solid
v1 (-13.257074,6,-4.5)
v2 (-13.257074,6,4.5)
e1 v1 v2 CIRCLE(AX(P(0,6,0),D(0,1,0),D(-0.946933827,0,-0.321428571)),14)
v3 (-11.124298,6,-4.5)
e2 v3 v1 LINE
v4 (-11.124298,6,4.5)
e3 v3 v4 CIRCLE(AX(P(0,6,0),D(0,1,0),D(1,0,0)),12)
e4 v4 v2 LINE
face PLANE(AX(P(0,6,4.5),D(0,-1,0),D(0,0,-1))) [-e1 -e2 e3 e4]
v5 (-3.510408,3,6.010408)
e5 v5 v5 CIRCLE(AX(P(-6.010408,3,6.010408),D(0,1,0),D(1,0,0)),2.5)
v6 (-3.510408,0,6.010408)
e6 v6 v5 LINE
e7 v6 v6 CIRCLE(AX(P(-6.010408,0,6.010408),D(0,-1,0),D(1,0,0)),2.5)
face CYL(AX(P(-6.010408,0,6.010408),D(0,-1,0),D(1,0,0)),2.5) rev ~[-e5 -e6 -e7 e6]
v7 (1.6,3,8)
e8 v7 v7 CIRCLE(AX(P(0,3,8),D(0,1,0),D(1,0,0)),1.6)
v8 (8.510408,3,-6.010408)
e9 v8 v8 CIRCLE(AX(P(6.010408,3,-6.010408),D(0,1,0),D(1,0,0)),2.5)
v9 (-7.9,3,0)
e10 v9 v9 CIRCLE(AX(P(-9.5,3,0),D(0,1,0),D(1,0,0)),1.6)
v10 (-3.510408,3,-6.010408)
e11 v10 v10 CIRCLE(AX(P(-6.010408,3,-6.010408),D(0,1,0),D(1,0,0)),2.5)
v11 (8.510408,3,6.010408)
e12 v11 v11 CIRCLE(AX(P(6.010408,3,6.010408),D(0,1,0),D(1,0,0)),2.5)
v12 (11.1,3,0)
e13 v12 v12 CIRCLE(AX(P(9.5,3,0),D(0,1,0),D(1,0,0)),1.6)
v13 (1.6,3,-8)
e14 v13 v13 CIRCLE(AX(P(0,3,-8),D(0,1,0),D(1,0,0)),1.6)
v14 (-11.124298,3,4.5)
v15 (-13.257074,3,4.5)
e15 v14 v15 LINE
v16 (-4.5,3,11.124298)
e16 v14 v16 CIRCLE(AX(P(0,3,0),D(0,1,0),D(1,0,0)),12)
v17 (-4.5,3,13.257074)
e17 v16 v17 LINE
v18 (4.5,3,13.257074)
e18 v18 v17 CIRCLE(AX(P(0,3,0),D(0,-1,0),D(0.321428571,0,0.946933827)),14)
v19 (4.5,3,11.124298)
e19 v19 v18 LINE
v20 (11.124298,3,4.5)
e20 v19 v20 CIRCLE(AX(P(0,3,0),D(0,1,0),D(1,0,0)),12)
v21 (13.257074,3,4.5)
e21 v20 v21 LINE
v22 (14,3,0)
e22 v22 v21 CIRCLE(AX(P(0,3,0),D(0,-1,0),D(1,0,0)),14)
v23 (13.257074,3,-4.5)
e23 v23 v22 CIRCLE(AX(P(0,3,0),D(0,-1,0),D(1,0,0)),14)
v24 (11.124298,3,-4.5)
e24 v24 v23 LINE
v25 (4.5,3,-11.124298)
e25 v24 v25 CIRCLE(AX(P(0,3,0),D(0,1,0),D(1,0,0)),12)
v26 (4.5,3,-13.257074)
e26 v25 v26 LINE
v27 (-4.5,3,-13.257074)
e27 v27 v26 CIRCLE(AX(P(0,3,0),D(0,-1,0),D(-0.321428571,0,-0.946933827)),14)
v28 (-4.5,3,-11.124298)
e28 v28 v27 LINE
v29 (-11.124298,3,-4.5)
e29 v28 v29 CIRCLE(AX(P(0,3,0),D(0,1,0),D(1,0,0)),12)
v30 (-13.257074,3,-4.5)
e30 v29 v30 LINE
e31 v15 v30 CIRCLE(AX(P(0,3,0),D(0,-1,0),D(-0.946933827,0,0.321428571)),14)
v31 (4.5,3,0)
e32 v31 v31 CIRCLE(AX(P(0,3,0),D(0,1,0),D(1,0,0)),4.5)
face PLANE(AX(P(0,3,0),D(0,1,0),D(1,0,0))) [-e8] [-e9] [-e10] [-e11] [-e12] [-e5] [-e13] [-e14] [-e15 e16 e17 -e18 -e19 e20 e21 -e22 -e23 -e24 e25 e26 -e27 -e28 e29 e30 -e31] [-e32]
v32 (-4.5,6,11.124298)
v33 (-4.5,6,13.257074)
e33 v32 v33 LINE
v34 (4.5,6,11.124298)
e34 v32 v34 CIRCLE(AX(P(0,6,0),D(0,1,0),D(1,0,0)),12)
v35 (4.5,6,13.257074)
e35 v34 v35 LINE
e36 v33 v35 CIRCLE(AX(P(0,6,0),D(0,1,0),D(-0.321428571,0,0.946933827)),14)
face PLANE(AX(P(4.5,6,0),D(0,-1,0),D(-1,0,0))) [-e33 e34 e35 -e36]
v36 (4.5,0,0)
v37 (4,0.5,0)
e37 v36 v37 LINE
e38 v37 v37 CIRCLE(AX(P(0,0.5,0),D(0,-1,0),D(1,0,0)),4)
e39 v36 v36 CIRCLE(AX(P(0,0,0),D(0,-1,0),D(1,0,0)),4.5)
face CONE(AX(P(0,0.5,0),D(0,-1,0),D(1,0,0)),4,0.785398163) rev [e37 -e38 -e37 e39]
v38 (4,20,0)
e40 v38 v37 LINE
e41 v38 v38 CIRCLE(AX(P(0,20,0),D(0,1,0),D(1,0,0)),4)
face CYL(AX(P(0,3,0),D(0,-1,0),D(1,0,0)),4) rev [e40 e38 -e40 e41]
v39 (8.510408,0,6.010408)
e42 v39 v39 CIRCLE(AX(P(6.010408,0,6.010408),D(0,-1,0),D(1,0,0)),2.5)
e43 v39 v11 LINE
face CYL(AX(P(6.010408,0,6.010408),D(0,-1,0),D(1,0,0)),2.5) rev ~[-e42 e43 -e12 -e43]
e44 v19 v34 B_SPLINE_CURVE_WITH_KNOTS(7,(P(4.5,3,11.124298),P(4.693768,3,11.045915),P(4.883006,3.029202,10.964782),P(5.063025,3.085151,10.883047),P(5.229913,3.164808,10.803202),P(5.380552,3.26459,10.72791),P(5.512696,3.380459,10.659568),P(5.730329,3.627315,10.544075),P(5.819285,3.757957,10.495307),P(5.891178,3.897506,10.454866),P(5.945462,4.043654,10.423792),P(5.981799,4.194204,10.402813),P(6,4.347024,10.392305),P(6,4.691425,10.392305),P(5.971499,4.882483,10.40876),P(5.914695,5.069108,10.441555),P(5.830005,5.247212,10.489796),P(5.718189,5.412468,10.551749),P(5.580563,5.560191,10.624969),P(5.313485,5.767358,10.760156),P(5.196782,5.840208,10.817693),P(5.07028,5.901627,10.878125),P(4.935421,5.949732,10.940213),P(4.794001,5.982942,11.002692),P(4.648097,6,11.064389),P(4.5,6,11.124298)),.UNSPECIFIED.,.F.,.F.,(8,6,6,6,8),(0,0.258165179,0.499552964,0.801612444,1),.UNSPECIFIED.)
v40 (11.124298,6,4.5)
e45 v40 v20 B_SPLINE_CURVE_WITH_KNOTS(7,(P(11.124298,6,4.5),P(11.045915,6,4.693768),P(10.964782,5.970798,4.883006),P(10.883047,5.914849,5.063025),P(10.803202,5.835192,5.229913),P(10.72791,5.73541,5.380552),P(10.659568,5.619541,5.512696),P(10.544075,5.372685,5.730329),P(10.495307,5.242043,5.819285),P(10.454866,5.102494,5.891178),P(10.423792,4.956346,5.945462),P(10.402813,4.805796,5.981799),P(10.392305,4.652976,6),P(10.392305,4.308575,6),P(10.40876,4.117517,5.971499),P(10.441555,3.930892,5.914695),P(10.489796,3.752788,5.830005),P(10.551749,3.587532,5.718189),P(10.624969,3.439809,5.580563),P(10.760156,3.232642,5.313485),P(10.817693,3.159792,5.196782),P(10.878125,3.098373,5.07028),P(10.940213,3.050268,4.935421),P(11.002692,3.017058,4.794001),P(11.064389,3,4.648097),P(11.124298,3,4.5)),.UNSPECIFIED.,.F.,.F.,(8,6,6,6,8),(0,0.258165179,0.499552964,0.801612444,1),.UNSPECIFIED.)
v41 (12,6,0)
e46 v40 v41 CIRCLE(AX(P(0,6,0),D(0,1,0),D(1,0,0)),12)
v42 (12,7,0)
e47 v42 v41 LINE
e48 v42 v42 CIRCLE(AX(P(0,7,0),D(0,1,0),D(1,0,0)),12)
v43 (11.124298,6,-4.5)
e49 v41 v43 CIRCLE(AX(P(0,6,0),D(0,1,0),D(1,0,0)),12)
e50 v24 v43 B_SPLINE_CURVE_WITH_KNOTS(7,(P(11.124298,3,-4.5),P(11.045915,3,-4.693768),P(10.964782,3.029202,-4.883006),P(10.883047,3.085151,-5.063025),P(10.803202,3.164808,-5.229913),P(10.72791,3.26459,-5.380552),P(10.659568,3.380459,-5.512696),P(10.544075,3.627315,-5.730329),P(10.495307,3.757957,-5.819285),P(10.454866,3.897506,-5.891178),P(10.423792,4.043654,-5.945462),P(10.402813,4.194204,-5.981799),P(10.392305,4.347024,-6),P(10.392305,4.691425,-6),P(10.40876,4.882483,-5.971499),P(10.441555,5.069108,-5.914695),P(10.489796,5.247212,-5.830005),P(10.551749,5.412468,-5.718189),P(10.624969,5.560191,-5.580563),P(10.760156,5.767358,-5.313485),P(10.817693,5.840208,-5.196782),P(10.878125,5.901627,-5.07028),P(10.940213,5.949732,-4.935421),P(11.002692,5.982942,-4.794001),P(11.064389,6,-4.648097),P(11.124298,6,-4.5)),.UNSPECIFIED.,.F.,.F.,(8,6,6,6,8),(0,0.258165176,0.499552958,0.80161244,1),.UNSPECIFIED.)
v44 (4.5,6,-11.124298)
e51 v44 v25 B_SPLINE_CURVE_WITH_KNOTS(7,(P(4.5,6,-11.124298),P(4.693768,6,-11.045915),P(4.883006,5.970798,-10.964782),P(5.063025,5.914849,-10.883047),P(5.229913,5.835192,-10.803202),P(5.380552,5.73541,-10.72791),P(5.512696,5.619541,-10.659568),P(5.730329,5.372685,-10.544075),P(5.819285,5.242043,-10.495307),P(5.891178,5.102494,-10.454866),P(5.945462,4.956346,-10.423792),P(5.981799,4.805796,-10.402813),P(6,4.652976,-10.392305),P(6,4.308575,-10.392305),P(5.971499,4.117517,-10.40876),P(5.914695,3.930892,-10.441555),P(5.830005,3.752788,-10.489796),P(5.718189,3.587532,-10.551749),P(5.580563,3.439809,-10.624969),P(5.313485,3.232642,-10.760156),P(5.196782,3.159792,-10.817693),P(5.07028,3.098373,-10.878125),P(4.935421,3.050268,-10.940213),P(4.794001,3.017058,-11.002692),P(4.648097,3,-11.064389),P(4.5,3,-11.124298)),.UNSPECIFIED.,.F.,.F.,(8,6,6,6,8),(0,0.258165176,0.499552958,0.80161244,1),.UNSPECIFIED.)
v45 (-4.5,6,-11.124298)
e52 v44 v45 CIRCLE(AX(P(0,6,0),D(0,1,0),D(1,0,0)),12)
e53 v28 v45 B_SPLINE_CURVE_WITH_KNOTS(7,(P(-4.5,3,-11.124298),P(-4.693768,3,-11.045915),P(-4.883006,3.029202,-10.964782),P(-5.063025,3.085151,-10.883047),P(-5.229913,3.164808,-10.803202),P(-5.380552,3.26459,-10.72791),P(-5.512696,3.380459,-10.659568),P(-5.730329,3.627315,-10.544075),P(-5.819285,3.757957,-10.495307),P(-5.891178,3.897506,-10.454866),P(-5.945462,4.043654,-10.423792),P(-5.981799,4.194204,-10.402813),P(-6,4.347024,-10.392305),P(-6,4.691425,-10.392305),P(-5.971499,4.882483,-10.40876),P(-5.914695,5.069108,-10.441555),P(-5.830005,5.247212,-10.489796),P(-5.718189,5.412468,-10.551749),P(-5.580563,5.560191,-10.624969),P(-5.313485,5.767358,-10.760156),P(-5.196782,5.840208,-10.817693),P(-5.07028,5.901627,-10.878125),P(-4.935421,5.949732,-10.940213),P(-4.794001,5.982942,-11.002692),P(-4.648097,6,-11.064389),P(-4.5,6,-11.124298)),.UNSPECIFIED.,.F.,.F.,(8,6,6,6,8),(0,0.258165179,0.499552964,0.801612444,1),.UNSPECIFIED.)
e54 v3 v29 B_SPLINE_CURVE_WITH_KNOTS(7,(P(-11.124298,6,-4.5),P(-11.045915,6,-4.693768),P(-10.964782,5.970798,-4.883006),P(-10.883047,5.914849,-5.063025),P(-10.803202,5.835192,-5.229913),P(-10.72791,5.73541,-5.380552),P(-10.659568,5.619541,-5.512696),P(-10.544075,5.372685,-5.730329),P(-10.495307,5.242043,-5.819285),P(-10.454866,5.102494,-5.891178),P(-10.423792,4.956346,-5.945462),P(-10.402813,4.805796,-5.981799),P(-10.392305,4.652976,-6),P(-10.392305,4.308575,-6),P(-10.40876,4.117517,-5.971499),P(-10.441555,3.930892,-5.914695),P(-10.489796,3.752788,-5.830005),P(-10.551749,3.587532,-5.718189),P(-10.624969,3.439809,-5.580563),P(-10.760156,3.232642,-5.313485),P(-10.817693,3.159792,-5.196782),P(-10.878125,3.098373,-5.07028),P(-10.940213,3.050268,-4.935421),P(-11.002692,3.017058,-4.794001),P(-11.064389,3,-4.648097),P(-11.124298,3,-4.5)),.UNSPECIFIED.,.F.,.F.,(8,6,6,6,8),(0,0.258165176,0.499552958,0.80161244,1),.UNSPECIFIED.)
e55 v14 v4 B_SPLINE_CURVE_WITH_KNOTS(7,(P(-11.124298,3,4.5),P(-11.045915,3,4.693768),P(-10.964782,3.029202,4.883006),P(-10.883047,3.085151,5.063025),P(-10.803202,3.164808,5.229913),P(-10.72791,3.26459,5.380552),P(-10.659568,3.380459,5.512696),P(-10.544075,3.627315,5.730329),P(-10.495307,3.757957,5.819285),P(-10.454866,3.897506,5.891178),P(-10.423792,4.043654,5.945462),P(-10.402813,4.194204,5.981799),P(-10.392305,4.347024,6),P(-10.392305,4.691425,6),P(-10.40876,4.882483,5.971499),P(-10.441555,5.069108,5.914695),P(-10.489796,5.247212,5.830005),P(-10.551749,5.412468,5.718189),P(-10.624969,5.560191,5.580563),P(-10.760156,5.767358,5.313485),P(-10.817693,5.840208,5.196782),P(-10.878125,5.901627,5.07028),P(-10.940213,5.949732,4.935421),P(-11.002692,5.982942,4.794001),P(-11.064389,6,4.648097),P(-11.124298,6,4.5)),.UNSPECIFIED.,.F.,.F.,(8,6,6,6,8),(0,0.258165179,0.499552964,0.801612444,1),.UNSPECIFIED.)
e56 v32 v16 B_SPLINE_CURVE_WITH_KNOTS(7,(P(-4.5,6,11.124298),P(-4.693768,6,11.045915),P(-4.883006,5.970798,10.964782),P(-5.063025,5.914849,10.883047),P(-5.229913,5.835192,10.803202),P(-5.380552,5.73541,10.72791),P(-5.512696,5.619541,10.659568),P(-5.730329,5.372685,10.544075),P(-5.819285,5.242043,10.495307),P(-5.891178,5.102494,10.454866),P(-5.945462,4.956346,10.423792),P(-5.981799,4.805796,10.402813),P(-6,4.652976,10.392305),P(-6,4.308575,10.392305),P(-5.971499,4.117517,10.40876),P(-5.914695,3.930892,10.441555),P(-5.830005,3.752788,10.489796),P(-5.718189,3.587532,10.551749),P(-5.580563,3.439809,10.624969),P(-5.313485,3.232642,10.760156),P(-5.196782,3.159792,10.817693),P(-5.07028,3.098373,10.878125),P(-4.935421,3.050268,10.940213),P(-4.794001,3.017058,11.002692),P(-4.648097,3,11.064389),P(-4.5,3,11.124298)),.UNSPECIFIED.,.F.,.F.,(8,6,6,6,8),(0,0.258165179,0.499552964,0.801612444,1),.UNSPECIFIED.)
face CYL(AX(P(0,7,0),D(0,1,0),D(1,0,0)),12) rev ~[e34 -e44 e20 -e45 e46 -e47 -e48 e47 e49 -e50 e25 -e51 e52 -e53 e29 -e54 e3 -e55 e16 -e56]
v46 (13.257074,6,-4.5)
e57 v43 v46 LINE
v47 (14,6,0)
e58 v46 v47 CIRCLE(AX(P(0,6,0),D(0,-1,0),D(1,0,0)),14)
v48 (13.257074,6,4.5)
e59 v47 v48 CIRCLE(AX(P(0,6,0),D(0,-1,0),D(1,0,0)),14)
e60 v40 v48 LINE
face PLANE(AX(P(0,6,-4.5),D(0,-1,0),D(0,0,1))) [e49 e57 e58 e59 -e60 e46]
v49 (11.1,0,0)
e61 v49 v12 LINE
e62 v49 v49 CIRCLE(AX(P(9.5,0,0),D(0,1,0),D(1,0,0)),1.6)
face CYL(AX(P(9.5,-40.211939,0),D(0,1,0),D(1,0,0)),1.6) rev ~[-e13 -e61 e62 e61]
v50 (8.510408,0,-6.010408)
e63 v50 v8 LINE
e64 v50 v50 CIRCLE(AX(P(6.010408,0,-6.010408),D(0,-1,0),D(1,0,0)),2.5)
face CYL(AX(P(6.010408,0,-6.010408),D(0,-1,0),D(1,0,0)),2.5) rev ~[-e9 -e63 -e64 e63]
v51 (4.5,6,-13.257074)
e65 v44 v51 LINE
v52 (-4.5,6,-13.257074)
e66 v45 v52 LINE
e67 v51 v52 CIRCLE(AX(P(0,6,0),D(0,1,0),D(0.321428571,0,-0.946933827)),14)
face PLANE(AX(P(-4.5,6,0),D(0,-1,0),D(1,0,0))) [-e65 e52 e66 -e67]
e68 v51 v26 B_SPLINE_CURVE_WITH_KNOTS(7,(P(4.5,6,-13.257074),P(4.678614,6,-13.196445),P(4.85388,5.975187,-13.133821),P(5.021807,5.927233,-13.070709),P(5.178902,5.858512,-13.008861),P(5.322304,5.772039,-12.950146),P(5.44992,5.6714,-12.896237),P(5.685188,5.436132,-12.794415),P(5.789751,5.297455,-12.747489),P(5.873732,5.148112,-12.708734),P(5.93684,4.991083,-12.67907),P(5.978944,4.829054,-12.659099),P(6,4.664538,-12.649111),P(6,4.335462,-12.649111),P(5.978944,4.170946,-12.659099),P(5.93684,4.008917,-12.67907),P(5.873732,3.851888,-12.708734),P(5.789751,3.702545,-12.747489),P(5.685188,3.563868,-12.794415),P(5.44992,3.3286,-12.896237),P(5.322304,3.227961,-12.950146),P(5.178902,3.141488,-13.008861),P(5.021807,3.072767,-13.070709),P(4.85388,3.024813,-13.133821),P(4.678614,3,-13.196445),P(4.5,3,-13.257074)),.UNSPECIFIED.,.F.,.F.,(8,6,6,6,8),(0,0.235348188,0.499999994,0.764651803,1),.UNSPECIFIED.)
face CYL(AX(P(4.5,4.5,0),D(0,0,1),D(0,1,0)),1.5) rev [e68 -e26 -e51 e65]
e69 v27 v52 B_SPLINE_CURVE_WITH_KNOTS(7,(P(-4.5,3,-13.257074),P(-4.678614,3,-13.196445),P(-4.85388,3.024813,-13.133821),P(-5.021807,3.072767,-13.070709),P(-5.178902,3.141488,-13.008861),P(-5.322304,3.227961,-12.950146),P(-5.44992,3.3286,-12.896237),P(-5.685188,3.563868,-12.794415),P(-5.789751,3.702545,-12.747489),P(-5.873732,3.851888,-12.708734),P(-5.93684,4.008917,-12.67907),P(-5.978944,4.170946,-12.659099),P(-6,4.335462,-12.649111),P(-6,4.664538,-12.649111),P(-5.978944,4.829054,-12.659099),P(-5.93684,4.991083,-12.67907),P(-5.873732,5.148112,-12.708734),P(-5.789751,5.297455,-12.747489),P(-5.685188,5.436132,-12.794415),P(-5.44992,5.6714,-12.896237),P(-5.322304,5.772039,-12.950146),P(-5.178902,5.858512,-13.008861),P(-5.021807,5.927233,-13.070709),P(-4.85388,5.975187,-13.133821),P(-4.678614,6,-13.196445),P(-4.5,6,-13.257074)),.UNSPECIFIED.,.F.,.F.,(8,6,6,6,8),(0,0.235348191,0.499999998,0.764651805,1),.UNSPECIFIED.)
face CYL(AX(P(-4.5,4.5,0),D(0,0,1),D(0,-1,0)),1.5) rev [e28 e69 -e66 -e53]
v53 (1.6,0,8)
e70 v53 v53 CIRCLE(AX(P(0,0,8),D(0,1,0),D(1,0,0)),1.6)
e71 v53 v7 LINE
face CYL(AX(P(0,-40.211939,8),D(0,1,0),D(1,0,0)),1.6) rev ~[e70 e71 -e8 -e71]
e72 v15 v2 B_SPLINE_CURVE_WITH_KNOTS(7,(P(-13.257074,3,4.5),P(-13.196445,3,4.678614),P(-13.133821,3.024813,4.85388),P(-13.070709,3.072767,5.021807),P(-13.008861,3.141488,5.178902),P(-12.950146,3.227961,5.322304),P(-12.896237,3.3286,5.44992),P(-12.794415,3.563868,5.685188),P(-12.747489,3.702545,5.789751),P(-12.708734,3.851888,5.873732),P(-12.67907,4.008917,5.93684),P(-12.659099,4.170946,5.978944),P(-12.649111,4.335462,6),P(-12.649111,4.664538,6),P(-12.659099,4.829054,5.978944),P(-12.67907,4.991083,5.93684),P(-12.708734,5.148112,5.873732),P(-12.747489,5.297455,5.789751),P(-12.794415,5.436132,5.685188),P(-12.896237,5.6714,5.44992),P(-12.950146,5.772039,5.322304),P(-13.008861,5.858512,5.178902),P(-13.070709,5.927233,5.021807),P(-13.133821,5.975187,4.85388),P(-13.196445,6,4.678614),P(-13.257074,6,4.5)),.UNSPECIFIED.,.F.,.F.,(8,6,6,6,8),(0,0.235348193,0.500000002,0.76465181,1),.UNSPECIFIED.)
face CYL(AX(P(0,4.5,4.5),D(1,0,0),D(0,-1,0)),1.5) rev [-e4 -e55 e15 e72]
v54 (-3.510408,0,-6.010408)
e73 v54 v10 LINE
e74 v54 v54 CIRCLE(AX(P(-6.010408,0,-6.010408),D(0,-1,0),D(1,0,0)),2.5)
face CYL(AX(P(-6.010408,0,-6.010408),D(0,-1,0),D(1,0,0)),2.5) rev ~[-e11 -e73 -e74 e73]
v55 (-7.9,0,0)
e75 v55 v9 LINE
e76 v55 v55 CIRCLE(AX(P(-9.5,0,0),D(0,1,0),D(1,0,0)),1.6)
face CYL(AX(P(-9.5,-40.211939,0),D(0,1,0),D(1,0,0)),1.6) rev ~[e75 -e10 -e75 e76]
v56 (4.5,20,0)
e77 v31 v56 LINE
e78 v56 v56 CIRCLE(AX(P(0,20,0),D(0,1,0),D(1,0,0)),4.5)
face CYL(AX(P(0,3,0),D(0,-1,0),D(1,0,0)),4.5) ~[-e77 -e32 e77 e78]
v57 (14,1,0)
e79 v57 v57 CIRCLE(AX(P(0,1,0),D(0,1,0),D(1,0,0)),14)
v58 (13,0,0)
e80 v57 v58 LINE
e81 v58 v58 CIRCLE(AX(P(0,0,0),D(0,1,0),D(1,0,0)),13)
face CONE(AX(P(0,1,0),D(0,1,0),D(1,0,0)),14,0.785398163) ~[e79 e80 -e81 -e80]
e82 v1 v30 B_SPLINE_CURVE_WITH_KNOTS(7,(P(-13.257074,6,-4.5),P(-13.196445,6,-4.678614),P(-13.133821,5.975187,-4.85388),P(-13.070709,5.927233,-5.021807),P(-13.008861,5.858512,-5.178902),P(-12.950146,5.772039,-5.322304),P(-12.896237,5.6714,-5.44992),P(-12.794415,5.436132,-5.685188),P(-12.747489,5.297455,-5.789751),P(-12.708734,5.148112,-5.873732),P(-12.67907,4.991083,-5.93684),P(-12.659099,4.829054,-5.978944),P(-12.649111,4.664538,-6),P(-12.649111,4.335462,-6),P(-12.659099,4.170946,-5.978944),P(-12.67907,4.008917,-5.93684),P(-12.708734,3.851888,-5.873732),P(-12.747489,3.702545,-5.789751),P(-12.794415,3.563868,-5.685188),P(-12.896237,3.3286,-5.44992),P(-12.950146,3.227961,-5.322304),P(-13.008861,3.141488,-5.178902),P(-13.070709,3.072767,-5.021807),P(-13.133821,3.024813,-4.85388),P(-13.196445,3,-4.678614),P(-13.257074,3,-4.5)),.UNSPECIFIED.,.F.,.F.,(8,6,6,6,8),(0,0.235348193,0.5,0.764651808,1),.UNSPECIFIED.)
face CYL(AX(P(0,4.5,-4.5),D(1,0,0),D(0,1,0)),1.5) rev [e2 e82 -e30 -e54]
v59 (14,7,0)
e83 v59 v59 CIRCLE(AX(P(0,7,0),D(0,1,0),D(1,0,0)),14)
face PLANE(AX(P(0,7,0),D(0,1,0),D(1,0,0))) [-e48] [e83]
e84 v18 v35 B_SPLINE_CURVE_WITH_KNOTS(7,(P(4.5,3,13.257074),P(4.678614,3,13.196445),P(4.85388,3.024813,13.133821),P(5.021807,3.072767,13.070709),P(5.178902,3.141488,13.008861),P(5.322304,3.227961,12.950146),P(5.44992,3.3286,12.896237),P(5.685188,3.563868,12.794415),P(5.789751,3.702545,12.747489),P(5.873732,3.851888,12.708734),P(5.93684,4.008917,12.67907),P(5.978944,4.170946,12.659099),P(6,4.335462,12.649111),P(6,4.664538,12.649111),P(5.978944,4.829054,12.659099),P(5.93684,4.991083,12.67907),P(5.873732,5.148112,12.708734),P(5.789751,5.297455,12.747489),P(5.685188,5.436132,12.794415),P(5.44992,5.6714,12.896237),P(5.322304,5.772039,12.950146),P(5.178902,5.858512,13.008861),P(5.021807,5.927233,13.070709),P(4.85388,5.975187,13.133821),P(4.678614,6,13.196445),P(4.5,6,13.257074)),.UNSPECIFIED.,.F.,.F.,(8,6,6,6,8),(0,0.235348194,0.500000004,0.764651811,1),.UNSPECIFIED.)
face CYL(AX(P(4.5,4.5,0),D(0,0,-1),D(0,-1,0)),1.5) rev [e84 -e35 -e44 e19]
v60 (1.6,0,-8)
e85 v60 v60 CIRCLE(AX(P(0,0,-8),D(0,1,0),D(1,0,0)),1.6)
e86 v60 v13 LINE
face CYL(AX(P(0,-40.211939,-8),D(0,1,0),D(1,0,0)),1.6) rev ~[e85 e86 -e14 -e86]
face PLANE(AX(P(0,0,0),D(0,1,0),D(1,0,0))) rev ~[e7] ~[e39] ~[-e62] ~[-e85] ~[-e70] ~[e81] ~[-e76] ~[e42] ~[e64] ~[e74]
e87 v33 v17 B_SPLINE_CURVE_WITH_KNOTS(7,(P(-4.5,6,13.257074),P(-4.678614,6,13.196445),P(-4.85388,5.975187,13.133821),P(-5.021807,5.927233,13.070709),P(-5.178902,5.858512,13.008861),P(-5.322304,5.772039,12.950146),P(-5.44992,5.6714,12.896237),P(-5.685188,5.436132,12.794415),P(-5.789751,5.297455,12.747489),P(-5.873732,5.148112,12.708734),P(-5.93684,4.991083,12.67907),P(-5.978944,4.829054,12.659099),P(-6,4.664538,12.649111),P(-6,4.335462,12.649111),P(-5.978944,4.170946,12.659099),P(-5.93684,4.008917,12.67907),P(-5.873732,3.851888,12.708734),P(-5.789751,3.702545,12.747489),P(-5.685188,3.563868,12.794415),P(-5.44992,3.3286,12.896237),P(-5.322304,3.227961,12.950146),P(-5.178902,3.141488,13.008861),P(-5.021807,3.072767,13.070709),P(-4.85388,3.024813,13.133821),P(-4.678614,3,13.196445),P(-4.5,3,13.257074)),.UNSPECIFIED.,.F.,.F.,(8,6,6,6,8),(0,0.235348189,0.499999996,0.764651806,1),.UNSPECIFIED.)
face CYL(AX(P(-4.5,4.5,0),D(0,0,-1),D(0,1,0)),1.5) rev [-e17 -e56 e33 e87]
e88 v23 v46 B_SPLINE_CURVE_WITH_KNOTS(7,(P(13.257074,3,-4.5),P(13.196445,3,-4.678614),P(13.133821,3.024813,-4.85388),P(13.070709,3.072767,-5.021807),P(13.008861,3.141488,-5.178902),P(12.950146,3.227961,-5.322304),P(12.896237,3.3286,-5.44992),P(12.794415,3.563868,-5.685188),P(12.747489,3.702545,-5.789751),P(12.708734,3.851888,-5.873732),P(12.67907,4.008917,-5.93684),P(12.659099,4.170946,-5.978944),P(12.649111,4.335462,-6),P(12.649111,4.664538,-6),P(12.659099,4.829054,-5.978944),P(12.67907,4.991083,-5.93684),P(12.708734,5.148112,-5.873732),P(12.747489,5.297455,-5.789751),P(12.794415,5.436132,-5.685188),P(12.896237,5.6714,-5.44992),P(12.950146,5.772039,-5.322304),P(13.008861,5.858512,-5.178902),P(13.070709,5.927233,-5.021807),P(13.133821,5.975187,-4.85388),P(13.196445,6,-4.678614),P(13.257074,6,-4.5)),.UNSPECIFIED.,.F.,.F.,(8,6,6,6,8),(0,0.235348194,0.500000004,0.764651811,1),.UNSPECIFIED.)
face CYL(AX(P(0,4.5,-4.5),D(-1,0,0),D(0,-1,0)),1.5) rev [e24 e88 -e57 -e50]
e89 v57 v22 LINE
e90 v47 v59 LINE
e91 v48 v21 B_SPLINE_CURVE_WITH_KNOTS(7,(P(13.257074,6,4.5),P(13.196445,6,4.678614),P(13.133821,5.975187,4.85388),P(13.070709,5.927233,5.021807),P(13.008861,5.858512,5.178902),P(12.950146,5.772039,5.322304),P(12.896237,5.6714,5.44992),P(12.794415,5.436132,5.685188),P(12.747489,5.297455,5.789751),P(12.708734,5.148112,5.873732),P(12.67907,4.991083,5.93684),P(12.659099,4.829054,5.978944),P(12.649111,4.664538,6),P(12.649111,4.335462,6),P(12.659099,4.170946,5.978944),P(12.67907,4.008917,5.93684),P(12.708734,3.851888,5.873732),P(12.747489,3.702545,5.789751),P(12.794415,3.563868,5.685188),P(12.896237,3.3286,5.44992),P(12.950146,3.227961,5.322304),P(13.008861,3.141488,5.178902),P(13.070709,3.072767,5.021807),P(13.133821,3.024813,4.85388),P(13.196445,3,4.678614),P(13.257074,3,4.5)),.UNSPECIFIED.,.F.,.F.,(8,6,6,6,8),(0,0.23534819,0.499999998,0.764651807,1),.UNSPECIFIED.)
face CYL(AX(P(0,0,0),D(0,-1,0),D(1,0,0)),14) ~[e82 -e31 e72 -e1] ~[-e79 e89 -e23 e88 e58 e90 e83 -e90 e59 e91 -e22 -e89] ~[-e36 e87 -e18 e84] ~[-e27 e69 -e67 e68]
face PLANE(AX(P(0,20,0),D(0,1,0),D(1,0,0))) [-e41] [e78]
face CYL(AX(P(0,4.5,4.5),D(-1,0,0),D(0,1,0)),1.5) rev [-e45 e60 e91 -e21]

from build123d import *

# Parameters (mm, degrees)
SKETCH1_R            = 14
BOSS_EXTRUDE1_DEPTH  = 7
CHAMFER1_SIZE        = 1
SKETCH11_R           = 12
CUT_EXTRUDE3_DEPTH   = 4
M3_CLEARANCE_HOLE2_D = 3.2
SKETCH2_R            = 4
SKETCH2_R_2          = 2.5
CUT_EXTRUDE4_DEPTH   = 3
CHAMFER2_SIZE        = 0.5
CUT_EXTRUDE2_DEPTH   = 14
CIRPATTERN1_COUNT    = 4
SKETCH12_R           = 4.5
SKETCH12_R_2         = 4
BOSS_EXTRUDE3_DEPTH  = 17


with BuildPart() as part:
    # Sketch1 → Boss-Extrude1 (new body)
    with BuildSketch(Plane(origin=(0, 0, 0), x_dir=(1, 0, 0), z_dir=(0, 1, 0))):
        Circle(SKETCH1_R)
    extrude(amount=BOSS_EXTRUDE1_DEPTH)

    # Chamfer1
    chamfer1_edges = [part.edges().sort_by_distance(p)[0] for p in [
        (-14, 0, 0),
    ]]
    chamfer(chamfer1_edges, length=CHAMFER1_SIZE)

    # Sketch11 → Cut-Extrude3 (cut)
    with BuildSketch(Plane(origin=(0, 7, 0), x_dir=(1, 0, 0), z_dir=(0, 1, 0))):
        Circle(SKETCH11_R)
    extrude(amount=-CUT_EXTRUDE3_DEPTH, mode=Mode.SUBTRACT)

    # M3 Clearance Hole2 (through all)
    with Locations(Plane(origin=(0, 0, 0), x_dir=(-1, 0, 0), z_dir=(0, -1, 0))):
        with Locations((9.5, 0), (-9.5, 0), (0, 8), (0, -8)):
            Hole(M3_CLEARANCE_HOLE2_D / 2)

    # Sketch2 → Cut-Extrude4 (cut)
    with BuildSketch(Plane.XZ):
        Circle(SKETCH2_R)
        with Locations((6.01040764, 6.01040764)):
            Circle(SKETCH2_R_2)
        with Locations((6.01040764, -6.01040764)):
            Circle(SKETCH2_R_2)
        with Locations((-6.01040764, -6.01040764)):
            Circle(SKETCH2_R_2)
        with Locations((-6.01040764, 6.01040764)):
            Circle(SKETCH2_R_2)
    extrude(amount=-CUT_EXTRUDE4_DEPTH, mode=Mode.SUBTRACT)

    # Chamfer2
    chamfer2_edges = [part.edges().sort_by_distance(p)[0] for p in [
        (-4, 0, 0),
    ]]
    chamfer(chamfer2_edges, length=CHAMFER2_SIZE)

    # Sketch10 → Cut-Extrude2 (cut)
    with BuildSketch(Plane(origin=(0, 0, 0), x_dir=(0, 0, -1), z_dir=(1, 0, 0))):
        with BuildLine():
            Line((-4.5, 6), (4.5, 6))
            ThreePointArc((4.5, 6), (6, 4.5), (4.5, 3))
            Line((4.5, 3), (-4.5, 3))
            ThreePointArc((-4.5, 3), (-6, 4.5), (-4.5, 6))
        make_face()
    cut_extrude2 = extrude(amount=-CUT_EXTRUDE2_DEPTH, mode=Mode.SUBTRACT)

    # CirPattern1: Cut-Extrude2 ×4 about axis
    cirpattern1_axis = Axis((0, 3, 0), (0, 1, 0))
    for i in range(1, CIRPATTERN1_COUNT):
        add(cut_extrude2.rotate(cirpattern1_axis, i * 360 / CIRPATTERN1_COUNT), mode=Mode.SUBTRACT)

    # Sketch12 → Boss-Extrude3 (add)
    with BuildSketch(Plane(origin=(0, 3, 0), x_dir=(1, 0, 0), z_dir=(0, 1, 0))):
        Circle(SKETCH12_R)
        Circle(SKETCH12_R_2, mode=Mode.SUBTRACT)
    extrude(amount=BOSS_EXTRUDE3_DEPTH)


solid = part.part
